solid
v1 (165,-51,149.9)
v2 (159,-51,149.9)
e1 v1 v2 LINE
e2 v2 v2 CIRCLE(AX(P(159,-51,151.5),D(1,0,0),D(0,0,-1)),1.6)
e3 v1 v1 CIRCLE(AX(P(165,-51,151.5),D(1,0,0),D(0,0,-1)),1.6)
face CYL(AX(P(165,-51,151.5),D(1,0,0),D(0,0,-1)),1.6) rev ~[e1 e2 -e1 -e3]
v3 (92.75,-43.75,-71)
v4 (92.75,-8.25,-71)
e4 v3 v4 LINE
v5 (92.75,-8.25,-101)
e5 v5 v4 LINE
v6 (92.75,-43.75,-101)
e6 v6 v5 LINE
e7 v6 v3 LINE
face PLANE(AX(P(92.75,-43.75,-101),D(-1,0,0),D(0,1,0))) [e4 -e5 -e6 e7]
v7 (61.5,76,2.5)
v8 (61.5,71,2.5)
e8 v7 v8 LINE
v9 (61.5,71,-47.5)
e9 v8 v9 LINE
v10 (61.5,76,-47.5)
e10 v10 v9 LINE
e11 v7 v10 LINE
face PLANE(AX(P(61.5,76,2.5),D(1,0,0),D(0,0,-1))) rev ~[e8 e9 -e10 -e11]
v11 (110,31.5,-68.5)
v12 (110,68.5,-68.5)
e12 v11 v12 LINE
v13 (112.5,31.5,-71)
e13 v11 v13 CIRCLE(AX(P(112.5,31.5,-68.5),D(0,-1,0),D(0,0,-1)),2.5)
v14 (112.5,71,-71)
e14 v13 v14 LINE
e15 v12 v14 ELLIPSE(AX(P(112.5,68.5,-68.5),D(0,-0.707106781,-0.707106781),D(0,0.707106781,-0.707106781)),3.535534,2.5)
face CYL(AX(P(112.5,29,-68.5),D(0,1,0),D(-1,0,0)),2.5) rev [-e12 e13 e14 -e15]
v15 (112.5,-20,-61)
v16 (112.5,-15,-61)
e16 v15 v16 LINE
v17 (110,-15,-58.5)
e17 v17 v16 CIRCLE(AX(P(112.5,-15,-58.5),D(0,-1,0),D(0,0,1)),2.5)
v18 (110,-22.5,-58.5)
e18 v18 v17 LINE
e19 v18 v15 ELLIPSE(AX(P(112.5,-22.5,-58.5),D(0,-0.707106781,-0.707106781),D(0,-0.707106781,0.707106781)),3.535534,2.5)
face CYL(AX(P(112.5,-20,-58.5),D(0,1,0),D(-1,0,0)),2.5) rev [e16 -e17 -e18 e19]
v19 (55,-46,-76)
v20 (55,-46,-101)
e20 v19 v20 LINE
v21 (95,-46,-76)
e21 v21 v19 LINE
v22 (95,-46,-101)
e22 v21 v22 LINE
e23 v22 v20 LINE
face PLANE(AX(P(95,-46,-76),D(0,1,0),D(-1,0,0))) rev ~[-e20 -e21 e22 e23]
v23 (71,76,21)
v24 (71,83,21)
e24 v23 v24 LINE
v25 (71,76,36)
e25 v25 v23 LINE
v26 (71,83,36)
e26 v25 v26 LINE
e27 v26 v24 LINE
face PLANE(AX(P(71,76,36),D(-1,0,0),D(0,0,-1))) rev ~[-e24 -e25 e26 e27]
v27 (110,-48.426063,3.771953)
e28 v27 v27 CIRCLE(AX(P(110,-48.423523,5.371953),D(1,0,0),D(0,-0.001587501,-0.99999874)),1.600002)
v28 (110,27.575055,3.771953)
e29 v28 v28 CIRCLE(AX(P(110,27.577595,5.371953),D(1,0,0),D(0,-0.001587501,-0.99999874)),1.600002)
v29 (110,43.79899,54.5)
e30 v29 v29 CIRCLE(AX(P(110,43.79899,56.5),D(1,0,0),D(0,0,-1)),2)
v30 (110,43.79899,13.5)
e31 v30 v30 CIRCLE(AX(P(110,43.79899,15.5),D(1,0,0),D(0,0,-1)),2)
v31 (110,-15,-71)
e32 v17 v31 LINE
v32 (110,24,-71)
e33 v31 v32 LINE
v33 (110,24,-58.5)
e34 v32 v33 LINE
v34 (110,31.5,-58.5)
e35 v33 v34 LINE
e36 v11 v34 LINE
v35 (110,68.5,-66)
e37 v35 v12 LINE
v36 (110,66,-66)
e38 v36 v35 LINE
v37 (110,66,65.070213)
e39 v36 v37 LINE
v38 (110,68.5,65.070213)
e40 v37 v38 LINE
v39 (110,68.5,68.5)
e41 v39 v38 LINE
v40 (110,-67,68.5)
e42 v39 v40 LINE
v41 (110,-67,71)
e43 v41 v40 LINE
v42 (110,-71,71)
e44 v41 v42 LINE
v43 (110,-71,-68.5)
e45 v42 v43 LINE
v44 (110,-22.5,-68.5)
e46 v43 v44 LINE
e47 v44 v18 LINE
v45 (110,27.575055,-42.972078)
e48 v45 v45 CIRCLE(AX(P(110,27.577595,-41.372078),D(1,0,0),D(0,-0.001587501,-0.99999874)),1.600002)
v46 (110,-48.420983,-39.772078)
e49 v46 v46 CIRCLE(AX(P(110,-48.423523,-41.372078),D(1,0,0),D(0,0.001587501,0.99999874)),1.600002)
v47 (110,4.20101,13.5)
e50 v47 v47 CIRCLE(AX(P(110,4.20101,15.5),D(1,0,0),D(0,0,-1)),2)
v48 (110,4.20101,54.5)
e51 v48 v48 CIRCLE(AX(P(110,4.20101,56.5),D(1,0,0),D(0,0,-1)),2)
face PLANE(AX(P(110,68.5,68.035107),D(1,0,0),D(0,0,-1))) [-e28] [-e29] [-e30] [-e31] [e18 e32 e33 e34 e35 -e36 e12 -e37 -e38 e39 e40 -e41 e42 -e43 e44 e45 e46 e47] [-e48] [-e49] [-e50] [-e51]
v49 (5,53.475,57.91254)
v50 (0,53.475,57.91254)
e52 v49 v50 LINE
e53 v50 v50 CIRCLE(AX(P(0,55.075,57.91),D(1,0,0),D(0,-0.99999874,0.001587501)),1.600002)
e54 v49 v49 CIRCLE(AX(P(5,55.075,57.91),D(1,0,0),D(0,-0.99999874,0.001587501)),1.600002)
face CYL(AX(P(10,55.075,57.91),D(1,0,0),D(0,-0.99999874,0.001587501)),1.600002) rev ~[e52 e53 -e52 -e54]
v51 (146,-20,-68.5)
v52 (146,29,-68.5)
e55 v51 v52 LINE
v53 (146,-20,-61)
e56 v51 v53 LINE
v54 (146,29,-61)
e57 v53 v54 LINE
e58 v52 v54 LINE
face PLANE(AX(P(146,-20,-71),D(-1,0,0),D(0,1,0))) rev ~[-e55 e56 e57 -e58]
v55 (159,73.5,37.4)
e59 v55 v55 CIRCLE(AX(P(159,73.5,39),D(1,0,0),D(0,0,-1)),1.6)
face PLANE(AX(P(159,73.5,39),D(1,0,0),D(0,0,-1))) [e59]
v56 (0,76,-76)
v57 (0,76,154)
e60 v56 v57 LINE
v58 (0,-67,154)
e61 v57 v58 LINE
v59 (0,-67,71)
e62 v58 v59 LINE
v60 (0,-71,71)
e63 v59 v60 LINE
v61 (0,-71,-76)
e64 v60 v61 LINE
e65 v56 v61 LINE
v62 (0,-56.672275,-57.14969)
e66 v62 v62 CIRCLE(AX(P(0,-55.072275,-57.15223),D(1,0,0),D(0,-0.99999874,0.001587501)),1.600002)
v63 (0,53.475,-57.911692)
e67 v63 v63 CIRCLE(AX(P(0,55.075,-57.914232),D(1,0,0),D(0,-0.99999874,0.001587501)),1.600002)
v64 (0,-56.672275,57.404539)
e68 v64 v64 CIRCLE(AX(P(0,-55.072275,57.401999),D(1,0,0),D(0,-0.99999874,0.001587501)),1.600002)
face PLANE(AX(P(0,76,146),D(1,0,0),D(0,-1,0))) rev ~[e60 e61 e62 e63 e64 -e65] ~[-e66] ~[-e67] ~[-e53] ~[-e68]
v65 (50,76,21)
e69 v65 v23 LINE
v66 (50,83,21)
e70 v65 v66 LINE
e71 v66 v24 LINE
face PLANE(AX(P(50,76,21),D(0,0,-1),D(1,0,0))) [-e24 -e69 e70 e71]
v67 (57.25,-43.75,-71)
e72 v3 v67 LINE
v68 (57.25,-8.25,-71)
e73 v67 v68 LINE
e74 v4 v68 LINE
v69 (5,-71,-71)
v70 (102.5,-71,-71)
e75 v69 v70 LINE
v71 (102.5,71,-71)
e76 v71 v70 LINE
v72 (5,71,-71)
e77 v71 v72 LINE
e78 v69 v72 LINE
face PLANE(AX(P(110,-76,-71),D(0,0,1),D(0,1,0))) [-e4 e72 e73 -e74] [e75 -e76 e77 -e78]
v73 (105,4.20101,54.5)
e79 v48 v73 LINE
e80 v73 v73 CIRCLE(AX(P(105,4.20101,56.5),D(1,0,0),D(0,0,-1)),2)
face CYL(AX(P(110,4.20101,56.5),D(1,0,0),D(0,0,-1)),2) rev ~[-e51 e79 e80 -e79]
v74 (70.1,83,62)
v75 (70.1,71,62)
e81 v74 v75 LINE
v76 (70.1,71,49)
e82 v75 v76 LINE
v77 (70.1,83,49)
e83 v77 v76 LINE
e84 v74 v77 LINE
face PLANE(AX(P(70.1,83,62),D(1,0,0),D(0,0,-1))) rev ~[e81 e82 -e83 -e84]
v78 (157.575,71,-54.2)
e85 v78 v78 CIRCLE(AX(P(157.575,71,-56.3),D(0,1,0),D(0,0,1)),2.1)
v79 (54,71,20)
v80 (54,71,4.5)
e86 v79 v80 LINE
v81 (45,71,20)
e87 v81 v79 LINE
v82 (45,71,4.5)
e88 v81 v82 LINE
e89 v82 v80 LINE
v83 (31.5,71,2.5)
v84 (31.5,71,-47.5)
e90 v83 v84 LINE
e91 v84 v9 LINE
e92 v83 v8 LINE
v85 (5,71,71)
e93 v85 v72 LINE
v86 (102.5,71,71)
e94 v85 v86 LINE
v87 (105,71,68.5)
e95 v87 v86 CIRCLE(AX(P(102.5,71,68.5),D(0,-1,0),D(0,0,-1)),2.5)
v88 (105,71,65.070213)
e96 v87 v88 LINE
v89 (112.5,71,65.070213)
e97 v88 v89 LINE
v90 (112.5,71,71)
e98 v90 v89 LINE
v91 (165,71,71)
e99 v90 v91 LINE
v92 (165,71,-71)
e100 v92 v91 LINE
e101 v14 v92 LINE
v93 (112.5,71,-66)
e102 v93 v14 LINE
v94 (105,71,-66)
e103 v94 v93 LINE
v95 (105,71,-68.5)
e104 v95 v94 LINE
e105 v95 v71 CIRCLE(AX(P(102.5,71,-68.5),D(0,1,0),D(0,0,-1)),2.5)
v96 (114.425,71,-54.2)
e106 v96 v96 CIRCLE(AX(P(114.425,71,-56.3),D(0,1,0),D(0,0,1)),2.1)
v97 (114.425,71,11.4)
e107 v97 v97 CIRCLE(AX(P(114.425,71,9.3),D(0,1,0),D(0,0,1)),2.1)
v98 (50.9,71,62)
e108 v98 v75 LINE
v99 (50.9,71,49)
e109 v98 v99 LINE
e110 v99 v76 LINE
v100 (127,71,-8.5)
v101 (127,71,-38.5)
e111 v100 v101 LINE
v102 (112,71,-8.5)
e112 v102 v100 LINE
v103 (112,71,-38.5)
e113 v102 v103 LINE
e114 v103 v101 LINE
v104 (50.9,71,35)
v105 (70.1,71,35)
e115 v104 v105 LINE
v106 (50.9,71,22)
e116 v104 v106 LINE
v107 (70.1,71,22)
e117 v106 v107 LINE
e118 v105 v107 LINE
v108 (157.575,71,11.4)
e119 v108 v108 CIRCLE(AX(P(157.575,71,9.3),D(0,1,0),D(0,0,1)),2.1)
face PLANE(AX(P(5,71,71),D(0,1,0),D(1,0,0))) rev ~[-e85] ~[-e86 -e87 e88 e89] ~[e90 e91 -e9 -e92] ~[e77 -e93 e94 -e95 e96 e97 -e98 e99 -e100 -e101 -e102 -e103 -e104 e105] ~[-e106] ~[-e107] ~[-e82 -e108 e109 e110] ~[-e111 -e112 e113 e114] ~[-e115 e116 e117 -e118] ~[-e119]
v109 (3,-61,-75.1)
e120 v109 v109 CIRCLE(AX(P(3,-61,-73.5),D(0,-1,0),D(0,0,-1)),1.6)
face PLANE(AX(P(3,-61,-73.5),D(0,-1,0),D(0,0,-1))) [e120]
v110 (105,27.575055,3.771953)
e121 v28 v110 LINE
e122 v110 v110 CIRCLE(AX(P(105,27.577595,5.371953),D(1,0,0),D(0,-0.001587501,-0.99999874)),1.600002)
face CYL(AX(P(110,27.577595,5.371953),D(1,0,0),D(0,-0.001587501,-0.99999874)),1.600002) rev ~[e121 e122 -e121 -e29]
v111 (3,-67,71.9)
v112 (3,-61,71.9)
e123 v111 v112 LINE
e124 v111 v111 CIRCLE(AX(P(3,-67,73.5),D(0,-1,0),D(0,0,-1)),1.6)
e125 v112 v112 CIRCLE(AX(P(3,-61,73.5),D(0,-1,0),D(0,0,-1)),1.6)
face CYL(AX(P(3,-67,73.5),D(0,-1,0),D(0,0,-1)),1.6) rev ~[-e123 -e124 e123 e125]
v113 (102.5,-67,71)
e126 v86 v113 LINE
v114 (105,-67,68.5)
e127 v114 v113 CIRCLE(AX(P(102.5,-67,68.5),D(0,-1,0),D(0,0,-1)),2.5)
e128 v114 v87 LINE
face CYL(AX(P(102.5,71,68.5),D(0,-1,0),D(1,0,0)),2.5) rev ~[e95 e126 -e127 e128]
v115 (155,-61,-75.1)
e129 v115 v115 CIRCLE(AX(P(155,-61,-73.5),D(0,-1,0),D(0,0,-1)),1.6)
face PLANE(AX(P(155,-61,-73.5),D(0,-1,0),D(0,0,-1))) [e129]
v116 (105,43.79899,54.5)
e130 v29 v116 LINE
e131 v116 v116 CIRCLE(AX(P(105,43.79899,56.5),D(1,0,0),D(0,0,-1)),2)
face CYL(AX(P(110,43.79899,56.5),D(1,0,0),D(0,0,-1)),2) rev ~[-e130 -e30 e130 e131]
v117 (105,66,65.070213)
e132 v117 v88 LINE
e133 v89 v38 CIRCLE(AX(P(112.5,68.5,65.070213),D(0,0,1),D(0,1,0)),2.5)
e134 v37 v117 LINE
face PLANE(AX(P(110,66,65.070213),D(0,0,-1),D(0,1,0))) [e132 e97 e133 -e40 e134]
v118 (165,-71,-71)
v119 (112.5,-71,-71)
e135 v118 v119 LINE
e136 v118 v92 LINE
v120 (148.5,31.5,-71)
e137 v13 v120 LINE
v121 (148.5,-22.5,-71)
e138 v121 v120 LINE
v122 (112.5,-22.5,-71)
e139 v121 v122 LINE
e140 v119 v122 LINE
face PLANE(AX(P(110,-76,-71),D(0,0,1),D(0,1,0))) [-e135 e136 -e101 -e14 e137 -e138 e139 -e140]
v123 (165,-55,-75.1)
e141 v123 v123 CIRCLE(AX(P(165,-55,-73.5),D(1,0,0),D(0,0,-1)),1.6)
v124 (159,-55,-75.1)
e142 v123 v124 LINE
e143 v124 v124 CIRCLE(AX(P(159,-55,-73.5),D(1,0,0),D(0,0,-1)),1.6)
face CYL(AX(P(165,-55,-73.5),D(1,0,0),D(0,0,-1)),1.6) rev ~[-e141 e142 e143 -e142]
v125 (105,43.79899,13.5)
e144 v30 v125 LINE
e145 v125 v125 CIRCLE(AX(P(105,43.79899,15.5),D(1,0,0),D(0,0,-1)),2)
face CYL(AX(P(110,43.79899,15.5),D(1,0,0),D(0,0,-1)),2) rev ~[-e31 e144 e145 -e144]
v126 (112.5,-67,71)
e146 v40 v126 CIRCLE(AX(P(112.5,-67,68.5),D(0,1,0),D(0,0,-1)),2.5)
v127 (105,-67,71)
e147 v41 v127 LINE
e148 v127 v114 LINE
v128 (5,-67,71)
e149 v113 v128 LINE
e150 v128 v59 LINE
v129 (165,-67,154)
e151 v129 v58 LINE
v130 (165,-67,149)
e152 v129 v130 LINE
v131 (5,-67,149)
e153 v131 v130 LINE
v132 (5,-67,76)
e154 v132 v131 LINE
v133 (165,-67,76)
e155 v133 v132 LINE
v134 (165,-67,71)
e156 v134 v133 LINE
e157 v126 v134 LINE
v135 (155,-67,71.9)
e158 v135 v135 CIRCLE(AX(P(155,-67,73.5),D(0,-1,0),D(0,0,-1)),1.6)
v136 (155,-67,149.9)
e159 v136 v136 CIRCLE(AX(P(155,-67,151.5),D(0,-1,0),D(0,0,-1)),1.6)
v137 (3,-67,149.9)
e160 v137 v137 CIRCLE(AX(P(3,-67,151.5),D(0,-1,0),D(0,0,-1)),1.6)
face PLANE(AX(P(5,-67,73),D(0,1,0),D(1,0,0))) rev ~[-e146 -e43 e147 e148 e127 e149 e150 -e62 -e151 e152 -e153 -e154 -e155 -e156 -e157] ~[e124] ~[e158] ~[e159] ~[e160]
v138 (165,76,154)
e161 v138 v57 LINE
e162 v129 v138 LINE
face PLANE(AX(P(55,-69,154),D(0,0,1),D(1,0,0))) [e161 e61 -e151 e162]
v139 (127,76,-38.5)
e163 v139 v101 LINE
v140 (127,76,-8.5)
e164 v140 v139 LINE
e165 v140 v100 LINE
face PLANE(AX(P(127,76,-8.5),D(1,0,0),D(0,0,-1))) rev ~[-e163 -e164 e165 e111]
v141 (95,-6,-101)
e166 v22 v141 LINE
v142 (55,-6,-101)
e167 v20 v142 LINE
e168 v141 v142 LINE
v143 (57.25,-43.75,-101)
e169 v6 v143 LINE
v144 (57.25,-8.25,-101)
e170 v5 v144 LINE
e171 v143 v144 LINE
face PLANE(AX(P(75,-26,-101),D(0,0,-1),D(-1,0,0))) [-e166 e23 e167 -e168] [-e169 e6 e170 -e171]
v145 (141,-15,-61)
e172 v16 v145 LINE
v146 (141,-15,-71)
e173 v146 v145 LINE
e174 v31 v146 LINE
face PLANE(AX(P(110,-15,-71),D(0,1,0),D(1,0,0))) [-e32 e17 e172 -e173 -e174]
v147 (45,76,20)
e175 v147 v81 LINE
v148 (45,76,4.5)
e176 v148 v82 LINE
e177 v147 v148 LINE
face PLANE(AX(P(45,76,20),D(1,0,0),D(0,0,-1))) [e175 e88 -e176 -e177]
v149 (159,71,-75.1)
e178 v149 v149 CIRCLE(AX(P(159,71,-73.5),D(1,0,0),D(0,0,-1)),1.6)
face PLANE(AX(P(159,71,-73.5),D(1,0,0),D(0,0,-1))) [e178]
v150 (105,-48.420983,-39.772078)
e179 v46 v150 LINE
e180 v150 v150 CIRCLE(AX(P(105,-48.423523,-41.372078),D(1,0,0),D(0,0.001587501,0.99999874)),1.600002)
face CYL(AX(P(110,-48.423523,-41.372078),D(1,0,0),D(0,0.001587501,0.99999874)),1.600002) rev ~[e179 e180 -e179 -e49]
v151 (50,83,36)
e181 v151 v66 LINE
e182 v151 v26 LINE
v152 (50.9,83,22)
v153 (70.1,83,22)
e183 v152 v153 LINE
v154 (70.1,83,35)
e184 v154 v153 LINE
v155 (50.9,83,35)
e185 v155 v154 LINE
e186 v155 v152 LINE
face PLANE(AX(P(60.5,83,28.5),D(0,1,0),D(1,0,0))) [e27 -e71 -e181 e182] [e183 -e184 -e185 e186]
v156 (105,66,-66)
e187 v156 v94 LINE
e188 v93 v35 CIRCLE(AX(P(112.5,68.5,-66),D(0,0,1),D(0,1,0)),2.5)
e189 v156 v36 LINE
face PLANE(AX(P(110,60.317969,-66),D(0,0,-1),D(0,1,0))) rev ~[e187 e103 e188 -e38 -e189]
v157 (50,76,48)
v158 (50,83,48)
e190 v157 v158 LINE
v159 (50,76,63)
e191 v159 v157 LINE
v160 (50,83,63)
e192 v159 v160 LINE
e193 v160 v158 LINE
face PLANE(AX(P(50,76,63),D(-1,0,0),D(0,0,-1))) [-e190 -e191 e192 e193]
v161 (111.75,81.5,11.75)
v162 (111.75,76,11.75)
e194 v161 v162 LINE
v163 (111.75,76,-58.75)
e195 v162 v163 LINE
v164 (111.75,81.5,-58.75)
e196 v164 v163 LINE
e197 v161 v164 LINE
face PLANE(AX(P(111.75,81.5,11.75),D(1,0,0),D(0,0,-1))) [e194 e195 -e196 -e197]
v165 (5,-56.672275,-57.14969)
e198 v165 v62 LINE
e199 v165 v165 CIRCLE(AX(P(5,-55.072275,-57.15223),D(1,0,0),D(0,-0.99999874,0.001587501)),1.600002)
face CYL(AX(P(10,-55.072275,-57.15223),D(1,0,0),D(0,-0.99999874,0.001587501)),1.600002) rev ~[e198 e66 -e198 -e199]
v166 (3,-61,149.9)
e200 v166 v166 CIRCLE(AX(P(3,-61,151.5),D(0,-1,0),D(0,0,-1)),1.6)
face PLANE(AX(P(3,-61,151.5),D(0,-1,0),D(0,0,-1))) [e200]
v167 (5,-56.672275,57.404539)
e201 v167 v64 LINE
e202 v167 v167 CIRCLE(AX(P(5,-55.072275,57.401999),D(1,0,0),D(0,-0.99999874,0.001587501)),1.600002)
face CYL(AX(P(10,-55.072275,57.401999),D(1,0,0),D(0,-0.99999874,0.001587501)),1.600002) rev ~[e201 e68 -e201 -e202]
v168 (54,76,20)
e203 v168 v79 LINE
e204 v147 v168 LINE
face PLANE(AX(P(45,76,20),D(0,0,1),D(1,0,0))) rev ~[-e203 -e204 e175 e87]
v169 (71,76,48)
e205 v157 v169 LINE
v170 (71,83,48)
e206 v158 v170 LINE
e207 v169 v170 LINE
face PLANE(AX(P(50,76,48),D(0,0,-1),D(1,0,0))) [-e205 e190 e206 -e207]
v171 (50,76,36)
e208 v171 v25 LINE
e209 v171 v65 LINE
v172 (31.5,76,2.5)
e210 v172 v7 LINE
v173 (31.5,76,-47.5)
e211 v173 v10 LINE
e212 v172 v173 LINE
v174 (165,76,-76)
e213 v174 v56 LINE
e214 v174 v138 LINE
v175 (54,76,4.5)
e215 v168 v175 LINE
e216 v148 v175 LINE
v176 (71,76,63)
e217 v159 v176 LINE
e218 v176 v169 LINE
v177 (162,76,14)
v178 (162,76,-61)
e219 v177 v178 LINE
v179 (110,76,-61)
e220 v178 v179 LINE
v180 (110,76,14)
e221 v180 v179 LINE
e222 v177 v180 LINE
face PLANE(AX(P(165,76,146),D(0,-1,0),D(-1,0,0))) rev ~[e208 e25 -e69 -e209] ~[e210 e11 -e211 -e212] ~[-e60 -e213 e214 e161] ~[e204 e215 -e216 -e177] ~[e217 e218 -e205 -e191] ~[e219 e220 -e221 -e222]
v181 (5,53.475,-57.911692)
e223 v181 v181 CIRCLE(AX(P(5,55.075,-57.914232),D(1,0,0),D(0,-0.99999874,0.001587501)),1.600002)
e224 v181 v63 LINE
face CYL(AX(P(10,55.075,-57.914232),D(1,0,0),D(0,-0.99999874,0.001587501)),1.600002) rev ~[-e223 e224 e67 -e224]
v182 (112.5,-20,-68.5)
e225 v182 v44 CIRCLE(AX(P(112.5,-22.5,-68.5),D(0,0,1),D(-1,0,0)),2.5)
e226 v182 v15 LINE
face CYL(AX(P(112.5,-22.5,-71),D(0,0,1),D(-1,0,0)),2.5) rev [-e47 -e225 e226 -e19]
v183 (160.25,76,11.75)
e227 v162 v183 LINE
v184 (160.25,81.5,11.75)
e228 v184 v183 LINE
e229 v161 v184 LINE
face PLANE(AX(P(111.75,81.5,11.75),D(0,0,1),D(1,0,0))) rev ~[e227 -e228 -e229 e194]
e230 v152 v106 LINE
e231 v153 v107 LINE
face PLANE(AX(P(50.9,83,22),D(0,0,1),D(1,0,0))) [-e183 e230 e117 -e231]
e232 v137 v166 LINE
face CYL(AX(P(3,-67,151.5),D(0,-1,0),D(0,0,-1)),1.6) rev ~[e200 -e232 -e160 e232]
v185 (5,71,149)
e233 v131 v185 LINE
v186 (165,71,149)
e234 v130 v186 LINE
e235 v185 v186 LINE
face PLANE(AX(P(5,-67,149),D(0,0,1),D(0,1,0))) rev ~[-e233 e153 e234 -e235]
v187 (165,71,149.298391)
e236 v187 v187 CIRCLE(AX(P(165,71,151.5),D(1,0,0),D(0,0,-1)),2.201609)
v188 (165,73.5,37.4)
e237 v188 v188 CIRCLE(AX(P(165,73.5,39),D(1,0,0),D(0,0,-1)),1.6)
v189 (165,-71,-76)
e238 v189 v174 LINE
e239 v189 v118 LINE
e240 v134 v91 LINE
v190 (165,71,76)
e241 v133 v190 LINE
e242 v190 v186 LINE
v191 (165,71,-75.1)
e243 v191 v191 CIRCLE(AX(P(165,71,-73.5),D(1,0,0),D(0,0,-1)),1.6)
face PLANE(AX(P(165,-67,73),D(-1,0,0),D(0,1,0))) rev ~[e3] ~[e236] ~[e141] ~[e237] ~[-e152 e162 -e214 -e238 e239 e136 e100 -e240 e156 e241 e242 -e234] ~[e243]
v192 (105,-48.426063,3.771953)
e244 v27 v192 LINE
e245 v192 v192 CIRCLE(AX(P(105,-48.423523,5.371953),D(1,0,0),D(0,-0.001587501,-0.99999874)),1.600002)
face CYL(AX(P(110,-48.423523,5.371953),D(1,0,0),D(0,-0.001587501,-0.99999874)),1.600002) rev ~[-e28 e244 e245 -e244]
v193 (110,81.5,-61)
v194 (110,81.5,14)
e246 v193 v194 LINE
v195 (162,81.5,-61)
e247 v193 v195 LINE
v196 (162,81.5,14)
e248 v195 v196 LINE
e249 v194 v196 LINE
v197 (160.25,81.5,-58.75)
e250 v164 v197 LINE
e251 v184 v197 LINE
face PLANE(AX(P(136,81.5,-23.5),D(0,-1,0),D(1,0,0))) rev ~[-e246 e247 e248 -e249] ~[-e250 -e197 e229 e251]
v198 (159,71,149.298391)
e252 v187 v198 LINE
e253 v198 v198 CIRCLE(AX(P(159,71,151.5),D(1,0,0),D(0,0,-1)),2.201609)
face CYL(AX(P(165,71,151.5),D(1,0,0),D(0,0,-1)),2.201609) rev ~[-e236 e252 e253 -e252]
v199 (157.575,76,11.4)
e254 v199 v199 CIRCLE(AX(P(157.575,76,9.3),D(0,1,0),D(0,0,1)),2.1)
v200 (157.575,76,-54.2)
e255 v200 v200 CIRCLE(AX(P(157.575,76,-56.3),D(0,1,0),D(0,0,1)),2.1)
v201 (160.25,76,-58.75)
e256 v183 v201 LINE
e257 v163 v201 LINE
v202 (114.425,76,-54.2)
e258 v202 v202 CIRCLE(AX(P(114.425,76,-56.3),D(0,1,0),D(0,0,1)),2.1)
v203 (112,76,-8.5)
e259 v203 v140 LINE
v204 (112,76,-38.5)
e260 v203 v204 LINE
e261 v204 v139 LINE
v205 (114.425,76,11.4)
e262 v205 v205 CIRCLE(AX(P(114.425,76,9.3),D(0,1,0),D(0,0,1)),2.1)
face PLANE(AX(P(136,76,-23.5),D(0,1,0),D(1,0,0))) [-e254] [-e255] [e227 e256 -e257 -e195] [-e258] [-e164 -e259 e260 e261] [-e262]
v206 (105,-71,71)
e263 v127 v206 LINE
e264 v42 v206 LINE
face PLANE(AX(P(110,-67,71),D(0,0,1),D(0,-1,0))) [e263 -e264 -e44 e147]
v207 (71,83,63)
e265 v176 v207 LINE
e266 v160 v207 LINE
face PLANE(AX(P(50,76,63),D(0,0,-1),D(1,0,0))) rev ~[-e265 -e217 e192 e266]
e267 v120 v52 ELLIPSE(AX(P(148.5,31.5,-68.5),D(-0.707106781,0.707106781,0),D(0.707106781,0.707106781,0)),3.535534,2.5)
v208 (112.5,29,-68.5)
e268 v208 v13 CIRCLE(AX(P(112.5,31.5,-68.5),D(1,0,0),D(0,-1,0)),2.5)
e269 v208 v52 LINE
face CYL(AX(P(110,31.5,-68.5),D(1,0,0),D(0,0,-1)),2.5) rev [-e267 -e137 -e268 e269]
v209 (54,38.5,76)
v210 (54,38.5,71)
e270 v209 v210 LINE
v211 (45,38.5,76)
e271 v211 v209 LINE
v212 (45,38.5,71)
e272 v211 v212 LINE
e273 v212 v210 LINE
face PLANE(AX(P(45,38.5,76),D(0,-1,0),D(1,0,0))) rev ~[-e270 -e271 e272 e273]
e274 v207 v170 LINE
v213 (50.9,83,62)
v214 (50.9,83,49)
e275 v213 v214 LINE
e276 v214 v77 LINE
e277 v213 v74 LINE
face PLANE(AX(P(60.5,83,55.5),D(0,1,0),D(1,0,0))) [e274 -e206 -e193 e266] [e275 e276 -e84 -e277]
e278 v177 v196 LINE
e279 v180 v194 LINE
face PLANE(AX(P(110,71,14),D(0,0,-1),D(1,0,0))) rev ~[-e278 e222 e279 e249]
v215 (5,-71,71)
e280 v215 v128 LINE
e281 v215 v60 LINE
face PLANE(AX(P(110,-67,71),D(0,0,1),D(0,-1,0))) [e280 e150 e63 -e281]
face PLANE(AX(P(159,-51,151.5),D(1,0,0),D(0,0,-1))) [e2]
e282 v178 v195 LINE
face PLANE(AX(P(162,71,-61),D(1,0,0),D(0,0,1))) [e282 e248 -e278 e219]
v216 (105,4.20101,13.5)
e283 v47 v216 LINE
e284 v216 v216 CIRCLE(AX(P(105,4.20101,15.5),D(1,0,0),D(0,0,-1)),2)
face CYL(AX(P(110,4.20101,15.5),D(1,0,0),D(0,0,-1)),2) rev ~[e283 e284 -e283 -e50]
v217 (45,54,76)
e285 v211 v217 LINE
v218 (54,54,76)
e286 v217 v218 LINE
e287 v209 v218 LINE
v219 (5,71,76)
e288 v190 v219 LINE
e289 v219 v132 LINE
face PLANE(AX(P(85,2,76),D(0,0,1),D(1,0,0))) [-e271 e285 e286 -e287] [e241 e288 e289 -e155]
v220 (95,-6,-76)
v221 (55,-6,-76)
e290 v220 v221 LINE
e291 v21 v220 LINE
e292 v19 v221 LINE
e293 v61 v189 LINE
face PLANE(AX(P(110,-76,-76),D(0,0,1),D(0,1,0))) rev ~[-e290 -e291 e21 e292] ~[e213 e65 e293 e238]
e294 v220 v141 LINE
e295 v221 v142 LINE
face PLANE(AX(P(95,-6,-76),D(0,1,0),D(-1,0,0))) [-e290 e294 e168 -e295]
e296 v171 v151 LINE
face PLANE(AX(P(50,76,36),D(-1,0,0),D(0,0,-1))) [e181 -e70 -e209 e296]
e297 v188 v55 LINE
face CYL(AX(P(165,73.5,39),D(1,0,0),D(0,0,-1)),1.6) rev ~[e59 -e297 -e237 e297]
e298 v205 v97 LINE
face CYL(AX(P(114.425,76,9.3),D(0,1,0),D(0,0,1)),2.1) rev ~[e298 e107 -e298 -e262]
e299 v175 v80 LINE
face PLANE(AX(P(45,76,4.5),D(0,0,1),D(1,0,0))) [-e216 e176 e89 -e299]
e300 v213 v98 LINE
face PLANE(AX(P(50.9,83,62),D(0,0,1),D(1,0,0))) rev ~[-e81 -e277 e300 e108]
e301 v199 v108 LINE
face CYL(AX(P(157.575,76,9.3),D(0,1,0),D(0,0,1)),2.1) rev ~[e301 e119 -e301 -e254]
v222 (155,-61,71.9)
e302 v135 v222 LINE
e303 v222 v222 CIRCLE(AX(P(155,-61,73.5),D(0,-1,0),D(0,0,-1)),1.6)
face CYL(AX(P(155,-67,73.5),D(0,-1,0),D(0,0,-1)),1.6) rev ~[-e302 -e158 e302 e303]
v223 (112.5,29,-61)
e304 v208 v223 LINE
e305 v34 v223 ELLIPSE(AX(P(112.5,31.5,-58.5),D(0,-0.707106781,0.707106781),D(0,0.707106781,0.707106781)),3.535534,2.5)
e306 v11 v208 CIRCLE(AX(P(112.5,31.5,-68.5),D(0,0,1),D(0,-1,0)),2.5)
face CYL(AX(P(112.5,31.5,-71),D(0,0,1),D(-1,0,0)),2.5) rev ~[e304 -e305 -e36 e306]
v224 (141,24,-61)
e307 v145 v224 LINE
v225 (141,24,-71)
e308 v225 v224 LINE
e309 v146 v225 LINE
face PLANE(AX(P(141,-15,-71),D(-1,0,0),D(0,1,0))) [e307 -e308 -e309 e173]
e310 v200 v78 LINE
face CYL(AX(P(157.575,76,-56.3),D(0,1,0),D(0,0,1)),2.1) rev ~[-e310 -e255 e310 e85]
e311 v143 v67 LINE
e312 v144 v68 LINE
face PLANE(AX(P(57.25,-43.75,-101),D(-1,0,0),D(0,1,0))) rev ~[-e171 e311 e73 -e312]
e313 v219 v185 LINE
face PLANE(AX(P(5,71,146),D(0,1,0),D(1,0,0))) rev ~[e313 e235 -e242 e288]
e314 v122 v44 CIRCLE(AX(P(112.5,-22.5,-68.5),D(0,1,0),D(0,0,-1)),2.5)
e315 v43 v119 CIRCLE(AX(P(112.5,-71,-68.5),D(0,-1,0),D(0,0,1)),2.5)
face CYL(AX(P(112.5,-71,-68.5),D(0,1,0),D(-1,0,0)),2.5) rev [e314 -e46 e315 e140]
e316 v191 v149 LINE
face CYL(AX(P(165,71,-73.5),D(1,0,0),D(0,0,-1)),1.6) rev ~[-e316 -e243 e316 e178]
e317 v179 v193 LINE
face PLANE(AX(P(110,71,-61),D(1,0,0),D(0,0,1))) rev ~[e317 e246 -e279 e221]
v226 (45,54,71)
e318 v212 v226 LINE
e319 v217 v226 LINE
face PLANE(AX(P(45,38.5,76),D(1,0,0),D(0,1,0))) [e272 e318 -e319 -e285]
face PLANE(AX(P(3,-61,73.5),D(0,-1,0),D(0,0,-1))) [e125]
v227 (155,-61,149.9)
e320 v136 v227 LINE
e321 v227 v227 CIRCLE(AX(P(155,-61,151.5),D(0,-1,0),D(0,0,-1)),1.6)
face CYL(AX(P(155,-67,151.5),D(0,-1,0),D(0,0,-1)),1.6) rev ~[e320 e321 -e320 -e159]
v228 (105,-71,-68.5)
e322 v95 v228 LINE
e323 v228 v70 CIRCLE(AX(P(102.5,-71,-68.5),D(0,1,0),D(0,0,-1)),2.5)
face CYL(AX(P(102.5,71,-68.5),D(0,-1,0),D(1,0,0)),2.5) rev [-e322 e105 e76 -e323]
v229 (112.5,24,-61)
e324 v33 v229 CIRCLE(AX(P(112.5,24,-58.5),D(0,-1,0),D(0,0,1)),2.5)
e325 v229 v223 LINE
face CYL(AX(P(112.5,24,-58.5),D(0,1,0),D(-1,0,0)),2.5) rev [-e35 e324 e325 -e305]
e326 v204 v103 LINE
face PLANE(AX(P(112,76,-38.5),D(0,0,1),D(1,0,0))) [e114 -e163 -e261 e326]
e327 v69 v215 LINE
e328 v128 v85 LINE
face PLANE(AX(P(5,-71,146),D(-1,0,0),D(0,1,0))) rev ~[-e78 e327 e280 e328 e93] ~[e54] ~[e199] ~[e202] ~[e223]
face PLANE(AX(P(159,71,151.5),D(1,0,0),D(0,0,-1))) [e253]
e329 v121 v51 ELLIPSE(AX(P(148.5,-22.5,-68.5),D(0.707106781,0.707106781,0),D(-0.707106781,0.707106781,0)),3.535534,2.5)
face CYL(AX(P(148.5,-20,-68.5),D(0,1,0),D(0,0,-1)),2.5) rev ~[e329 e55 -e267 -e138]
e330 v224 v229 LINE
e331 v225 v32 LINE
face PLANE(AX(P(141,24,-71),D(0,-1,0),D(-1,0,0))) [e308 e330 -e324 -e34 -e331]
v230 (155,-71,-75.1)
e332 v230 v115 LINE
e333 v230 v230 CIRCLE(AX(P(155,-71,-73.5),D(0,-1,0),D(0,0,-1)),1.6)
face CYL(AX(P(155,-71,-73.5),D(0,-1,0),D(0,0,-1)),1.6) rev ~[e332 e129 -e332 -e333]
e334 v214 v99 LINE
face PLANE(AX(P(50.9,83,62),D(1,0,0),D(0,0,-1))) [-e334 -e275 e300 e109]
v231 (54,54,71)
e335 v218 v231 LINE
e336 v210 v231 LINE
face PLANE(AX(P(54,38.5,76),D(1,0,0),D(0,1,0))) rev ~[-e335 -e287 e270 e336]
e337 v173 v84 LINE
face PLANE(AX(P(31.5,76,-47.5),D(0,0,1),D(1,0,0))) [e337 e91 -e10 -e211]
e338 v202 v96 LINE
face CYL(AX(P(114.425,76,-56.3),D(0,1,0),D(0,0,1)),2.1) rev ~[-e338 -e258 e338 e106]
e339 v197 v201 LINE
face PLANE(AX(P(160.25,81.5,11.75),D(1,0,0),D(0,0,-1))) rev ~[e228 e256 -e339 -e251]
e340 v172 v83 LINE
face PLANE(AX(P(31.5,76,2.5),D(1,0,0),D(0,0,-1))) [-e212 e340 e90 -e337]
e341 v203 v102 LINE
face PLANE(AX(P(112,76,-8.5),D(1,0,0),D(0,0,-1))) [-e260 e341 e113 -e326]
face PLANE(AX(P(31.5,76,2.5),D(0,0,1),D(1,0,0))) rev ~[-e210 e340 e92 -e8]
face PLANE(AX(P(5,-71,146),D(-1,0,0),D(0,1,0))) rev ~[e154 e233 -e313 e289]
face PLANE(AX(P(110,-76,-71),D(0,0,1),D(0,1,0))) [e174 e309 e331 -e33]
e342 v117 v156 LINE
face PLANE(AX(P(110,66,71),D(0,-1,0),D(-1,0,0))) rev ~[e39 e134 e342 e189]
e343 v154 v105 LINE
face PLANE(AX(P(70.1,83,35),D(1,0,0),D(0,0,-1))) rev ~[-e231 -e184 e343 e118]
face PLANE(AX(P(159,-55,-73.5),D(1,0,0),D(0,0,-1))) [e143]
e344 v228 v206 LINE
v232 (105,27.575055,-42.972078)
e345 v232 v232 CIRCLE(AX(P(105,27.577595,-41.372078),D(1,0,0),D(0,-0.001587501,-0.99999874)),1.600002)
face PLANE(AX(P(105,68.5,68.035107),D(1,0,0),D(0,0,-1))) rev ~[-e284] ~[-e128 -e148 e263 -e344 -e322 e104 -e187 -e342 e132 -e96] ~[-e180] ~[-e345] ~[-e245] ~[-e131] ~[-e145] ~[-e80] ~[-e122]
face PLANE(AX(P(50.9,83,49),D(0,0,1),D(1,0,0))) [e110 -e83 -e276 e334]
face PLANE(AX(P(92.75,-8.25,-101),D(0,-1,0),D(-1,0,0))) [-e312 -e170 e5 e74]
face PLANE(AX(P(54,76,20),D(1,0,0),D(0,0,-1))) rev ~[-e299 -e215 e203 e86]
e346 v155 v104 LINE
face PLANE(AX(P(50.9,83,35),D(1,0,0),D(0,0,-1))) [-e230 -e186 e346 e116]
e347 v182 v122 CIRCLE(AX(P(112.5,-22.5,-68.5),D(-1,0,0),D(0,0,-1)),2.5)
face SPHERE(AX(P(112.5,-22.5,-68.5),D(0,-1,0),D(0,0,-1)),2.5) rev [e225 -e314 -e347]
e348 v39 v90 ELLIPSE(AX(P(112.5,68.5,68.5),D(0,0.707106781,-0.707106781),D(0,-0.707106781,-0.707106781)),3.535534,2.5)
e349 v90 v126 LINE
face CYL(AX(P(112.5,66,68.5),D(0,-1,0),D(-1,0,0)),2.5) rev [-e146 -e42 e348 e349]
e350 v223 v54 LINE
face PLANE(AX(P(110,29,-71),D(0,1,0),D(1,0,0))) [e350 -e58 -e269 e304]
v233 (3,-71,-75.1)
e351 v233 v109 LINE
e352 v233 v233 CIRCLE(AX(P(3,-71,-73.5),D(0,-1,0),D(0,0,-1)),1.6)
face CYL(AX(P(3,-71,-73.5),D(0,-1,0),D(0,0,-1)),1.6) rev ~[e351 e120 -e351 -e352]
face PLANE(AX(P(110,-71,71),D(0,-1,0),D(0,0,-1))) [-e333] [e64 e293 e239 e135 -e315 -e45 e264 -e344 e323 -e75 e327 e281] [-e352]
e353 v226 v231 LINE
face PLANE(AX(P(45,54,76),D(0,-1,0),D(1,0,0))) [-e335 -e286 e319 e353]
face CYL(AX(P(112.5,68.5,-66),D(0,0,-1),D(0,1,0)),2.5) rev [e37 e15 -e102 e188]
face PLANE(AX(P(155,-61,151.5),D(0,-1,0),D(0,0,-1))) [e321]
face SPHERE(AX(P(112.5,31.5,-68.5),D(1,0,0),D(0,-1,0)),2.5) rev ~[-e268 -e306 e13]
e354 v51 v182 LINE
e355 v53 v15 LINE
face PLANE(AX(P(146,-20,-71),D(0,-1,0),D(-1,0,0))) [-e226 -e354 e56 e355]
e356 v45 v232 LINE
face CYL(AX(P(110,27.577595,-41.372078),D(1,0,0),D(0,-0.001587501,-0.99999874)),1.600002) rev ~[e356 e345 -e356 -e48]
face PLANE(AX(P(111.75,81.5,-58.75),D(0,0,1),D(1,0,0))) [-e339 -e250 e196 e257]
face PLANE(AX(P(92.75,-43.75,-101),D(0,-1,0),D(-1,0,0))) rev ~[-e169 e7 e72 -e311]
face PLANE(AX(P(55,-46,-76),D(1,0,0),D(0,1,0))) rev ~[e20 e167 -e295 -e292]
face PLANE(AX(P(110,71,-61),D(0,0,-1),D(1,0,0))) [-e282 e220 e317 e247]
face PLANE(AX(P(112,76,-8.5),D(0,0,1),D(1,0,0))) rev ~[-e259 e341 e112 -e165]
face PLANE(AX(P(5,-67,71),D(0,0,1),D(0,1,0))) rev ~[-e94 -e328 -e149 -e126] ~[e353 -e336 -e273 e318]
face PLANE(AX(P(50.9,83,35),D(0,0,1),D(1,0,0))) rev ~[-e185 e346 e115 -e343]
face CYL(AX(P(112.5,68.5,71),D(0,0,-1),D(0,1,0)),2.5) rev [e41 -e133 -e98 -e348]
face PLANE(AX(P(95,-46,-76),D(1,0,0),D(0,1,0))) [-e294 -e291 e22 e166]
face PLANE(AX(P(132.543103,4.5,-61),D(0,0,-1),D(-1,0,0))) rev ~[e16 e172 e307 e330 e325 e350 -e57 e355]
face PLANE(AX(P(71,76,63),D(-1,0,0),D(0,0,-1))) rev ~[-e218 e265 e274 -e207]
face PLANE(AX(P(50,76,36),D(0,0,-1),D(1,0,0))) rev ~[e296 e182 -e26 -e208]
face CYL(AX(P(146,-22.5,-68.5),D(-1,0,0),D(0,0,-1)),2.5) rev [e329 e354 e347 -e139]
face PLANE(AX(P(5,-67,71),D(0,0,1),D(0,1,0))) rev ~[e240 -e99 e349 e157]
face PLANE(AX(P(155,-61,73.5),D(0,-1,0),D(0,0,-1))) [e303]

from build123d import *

# Parameters (mm, degrees)
SKETCH_1_W           = 142
SKETCH_1_H           = 142
EXTRUDE_1_DEPTH      = 5
SKETCH_2_W           = 5
SKETCH_2_H           = 142
EXTRUDE_2_DEPTH      = 5
SKETCH_3_W           = 142
SKETCH_3_H           = 5
EXTRUDE_3_DEPTH      = 60
SKETCH_4_W           = 31
SKETCH_4_H           = 71
CUT_EXTRUDE_1_DEPTH  = 5
SKETCH_5_W           = 142
SKETCH_5_H           = 5
EXTRUDE_4_DEPTH      = 40
EXTRUDE_5_DEPTH      = 5
SKETCH_7_W           = 5
SKETCH_7_H           = 142
EXTRUDE_6_DEPTH      = 100
SKETCH_8_W           = 40
SKETCH_8_H           = 40
EXTRUDE_7_DEPTH      = 25
SKETCH_10_W          = 35.5
SKETCH_10_H          = 35.5
CUT_EXTRUDE_2_DEPTH  = 30
EXTRUDE_8_DEPTH      = 5
SKETCH_13_W          = 5
SKETCH_13_H          = 142
EXTRUDE_9_DEPTH      = 100
EXTRUDE_10_DEPTH     = 5
SKETCH_15_W          = 142
SKETCH_15_H          = 5
EXTRUDE_11_DEPTH     = 100
SKETCH_16_W          = 21
SKETCH_16_H          = 15
EXTRUDE_12_DEPTH     = 7
SKETCH_17_W          = 19.2
SKETCH_17_H          = 13
CUT_EXTRUDE_4_DEPTH  = 12
SKETCH_18_W          = 19.2
SKETCH_18_H          = 13
CUT_EXTRUDE_5_DEPTH  = 12
CUT_EXTRUDE_6_DEPTH  = 10
SKETCH_20_W          = 30
SKETCH_20_H          = 50
CUT_EXTRUDE_7_DEPTH  = 5
SKETCH_21_W          = 9
SKETCH_21_H          = 15.5
CUT_EXTRUDE_8_DEPTH  = 5
SKETCH_22_W          = 152
SKETCH_22_H          = 152
EXTRUDE_13_DEPTH     = 5
SKETCH_23_W          = 142
SKETCH_23_H          = 5
CUT_EXTRUDE_9_DEPTH  = 5
SKETCH_25_R          = 2
CUT_EXTRUDE_11_DEPTH = 5
SKETCH_26_W          = 5
SKETCH_26_H          = 152
EXTRUDE_14_DEPTH     = 55
EXTRUDE_15_DEPTH     = 10
SKETCH_29_W          = 5
SKETCH_29_H          = 152
CUT_EXTRUDE_12_DEPTH = 110
SKETCH_30_W          = 5
SKETCH_30_H          = 15.68203055
EXTRUDE_16_DEPTH     = 5
SKETCH_37_W          = 142
SKETCH_37_H          = 5
EXTRUDE_17_DEPTH     = 55
SKETCH_38_W          = 52
SKETCH_38_H          = 75
EXTRUDE_18_DEPTH     = 10.5
SKETCH_39_W          = 48.5
SKETCH_39_H          = 70.5
CUT_EXTRUDE_14_DEPTH = 5.5
SKETCH_40_R          = 2.1
CUT_EXTRUDE_16_DEPTH = 5
SKETCH_41_W          = 15
SKETCH_41_H          = 30
CUT_EXTRUDE_17_DEPTH = 5
CUT_EXTRUDE_18_DEPTH = 5
EXTRUDE_19_DEPTH     = 75
SKETCH_45_W          = 2
SKETCH_45_H          = 138
EXTRUDE_20_DEPTH     = 160
SKETCH_46_W          = 73
SKETCH_46_H          = 133
CUT_EXTRUDE_19_DEPTH = 5
EXTRUDE_21_DEPTH     = 8
SKETCH_49_W          = 5
SKETCH_49_H          = 138
EXTRUDE_22_DEPTH     = 160
SKETCH_50_W          = 100
SKETCH_50_H          = 4
EXTRUDE_23_DEPTH     = 5
SKETCH_51_W          = 83
SKETCH_51_H          = 9
EXTRUDE_24_DEPTH     = 110
EXTRUDE_25_DEPTH     = 3
SKETCH_54_W          = 9
SKETCH_54_H          = 15.5
CUT_EXTRUDE_20_DEPTH = 5
CUT_EXTRUDE_21_DEPTH = 110
SKETCH_58_W          = 5.929786703
SKETCH_58_H          = 5
EXTRUDE_26_DEPTH     = 5
CUT_EXTRUDE_START    = -55
SKETCH_60_W          = 5
SKETCH_60_H          = 5
CUT_EXTRUDE_22_DEPTH = 55
SKETCH_59_R          = 1.6
CUT_EXTRUDE_23_DEPTH = 6
SKETCH_61_R          = 1.6
CUT_EXTRUDE_24_DEPTH = 10
SKETCH_62_R          = 1.6
SKETCH_62_R_2        = 2.201608842
CUT_EXTRUDE_25_DEPTH = 6
FILLET_1_R           = 2.5


with BuildPart() as part:
    # 草图1 → 凸台-拉伸1 (new body)
    with BuildSketch(Plane(origin=(0, 0, 0), x_dir=(0, 0, -1), z_dir=(1, 0, 0))):
        Rectangle(SKETCH_1_W, SKETCH_1_H)
    extrude(amount=EXTRUDE_1_DEPTH)

    # 草图2 → 凸台-拉伸2 (add)
    with BuildSketch(Plane.XZ.offset(71)):
        with Locations((2.5, 0)):
            Rectangle(SKETCH_2_W, SKETCH_2_H)
    extrude(amount=EXTRUDE_2_DEPTH)

    # 草图3 → 凸台-拉伸3 (add)
    with BuildSketch(Plane(origin=(5, 0, 0), x_dir=(0, 0, -1), z_dir=(1, 0, 0))):
        with Locations((0, -73.5)):
            Rectangle(SKETCH_3_W, SKETCH_3_H)
    extrude(amount=EXTRUDE_3_DEPTH)

    # 草图4 → 切除-拉伸1 (cut)
    with BuildSketch(Plane.XZ.offset(76)):
        with Locations((49.5, 9.5)):
            Rectangle(SKETCH_4_W, SKETCH_4_H)
    extrude(amount=-CUT_EXTRUDE_1_DEPTH, mode=Mode.SUBTRACT)

    # 草图5 → 凸台-拉伸4 (add)
    with BuildSketch(Plane(origin=(65, 0, 0), x_dir=(0, 0, -1), z_dir=(1, 0, 0))):
        with Locations((0, -73.5)):
            Rectangle(SKETCH_5_W, SKETCH_5_H)
    extrude(amount=EXTRUDE_4_DEPTH)

    # 草图6 → 凸台-拉伸5 (add)
    with BuildSketch(Plane(origin=(0, 0, -71), x_dir=(-1, 0, 0), z_dir=(0, 0, -1))):
        Polygon((0, -76), (0, 71), (-5, 71), (-5, -71), (-105, -71), (-105, -76), align=None)
    extrude(amount=EXTRUDE_5_DEPTH)

    # 草图7 → 凸台-拉伸6 (add)
    with BuildSketch(Plane(origin=(5, 0, 0), x_dir=(0, 0, -1), z_dir=(1, 0, 0))):
        with Locations((73.5, 0)):
            Rectangle(SKETCH_7_W, SKETCH_7_H)
    extrude(amount=EXTRUDE_6_DEPTH)

    # 草图8 → 凸台-拉伸7 (add)
    with BuildSketch(Plane(origin=(0, 0, -76), x_dir=(-1, 0, 0), z_dir=(0, 0, -1))):
        with Locations((-75, -26)):
            Rectangle(SKETCH_8_W, SKETCH_8_H)
    extrude(amount=EXTRUDE_7_DEPTH)

    # 草图10 → 切除-拉伸2 (cut)
    with BuildSketch(Plane(origin=(0, 0, -101), x_dir=(-1, 0, 0), z_dir=(0, 0, -1))):
        with Locations((-75, -26)):
            Rectangle(SKETCH_10_W, SKETCH_10_H)
    extrude(amount=-CUT_EXTRUDE_2_DEPTH, mode=Mode.SUBTRACT)

    # 草图12 → 凸台-拉伸8 (add)
    with BuildSketch(Plane.XY.offset(71)):
        Polygon((0, 71), (0, -76), (105, -76), (105, -71), (5, -71), (5, 71), align=None)
    extrude(amount=EXTRUDE_8_DEPTH)

    # 草图13 → 凸台-拉伸9 (add)
    with BuildSketch(Plane(origin=(5, 0, 0), x_dir=(0, 0, -1), z_dir=(1, 0, 0))):
        with Locations((-73.5, 0)):
            Rectangle(SKETCH_13_W, SKETCH_13_H)
    extrude(amount=EXTRUDE_9_DEPTH)

    # 草图14 → 凸台-拉伸10 (add)
    with BuildSketch(Plane(origin=(0, 71, 0), x_dir=(1, 0, 0), z_dir=(0, 1, 0))):
        Polygon((0, 76), (0, -76), (105, -76), (105, -71), (5, -71), (5, 71), (105, 71), (105, 76), align=None)
    extrude(amount=EXTRUDE_10_DEPTH)

    # 草图15 → 凸台-拉伸11 (add)
    with BuildSketch(Plane(origin=(5, 0, 0), x_dir=(0, 0, -1), z_dir=(1, 0, 0))):
        with Locations((0, 73.5)):
            Rectangle(SKETCH_15_W, SKETCH_15_H)
    extrude(amount=EXTRUDE_11_DEPTH)

    # 草图16 → 凸台-拉伸12 (add)
    with BuildSketch(Plane(origin=(0, 76, 0), x_dir=(1, 0, 0), z_dir=(0, 1, 0))):
        with Locations((60.5, -28.5)):
            Rectangle(SKETCH_16_W, SKETCH_16_H)
        with Locations((60.5, -55.5)):
            Rectangle(SKETCH_16_W, SKETCH_16_H)
    extrude(amount=EXTRUDE_12_DEPTH)

    # 草图17 → 切除-拉伸4 (cut)
    with BuildSketch(Plane(origin=(0, 83, 0), x_dir=(1, 0, 0), z_dir=(0, 1, 0))):
        with Locations((60.5, -28.5)):
            Rectangle(SKETCH_17_W, SKETCH_17_H)
    extrude(amount=-CUT_EXTRUDE_4_DEPTH, mode=Mode.SUBTRACT)

    # 草图18 → 切除-拉伸5 (cut)
    with BuildSketch(Plane(origin=(0, 83, 0), x_dir=(1, 0, 0), z_dir=(0, 1, 0))):
        with Locations((60.5, -55.5)):
            Rectangle(SKETCH_18_W, SKETCH_18_H)
    extrude(amount=-CUT_EXTRUDE_5_DEPTH, mode=Mode.SUBTRACT)

    # 草图19 → 切除-拉伸6 (cut)
    with BuildSketch(Plane(origin=(10, 0, 0), x_dir=(0, 0, -1), z_dir=(1, 0, 0))):
        with BuildLine():
            ThreePointArc((57.15477013, -53.472274575), (55.552230124, -55.069734569), (57.149690119, -56.672274575))
            ThreePointArc((57.149690119, -56.672274575), (58.752230124, -55.07481458), (57.15477013, -53.472274575))
        make_face()
        with BuildLine():
            ThreePointArc((-57.399458979, -53.472274575), (-59.001998984, -55.069734569), (-57.404538989, -56.672274575))
            ThreePointArc((-57.404538989, -56.672274575), (-55.801998984, -55.07481458), (-57.399458979, -53.472274575))
        make_face()
        with BuildLine():
            ThreePointArc((57.916771654, 56.675), (56.314231648, 55.077540005), (57.911691643, 53.475))
            ThreePointArc((57.911691643, 53.475), (59.514231648, 55.072459995), (57.916771654, 56.675))
        make_face()
        with BuildLine():
            ThreePointArc((-57.907459995, 56.675), (-59.51, 55.077540005), (-57.912540005, 53.475))
            ThreePointArc((-57.912540005, 53.475), (-56.31, 55.072459995), (-57.907459995, 56.675))
        make_face()
    extrude(amount=-CUT_EXTRUDE_6_DEPTH, mode=Mode.SUBTRACT)

    # 草图20 → 切除-拉伸7 (cut)
    with BuildSketch(Plane(origin=(0, 76, 0), x_dir=(1, 0, 0), z_dir=(0, 1, 0))):
        with Locations((46.5, 22.5)):
            Rectangle(SKETCH_20_W, SKETCH_20_H)
    extrude(amount=-CUT_EXTRUDE_7_DEPTH, mode=Mode.SUBTRACT)

    # 草图21 → 切除-拉伸8 (cut)
    with BuildSketch(Plane(origin=(0, 76, 0), x_dir=(1, 0, 0), z_dir=(0, 1, 0))):
        with Locations((49.5, -12.25)):
            Rectangle(SKETCH_21_W, SKETCH_21_H)
    extrude(amount=-CUT_EXTRUDE_8_DEPTH, mode=Mode.SUBTRACT)

    # 草图22 → 凸台-拉伸13 (add)
    with BuildSketch(Plane(origin=(105, 0, 0), x_dir=(0, 0, -1), z_dir=(1, 0, 0))):
        Rectangle(SKETCH_22_W, SKETCH_22_H)
    extrude(amount=EXTRUDE_13_DEPTH)

    # 草图23 → 切除-拉伸9 (cut)
    with BuildSketch(Plane(origin=(110, 0, 0), x_dir=(0, 0, -1), z_dir=(1, 0, 0))):
        with Locations((0, 68.5)):
            Rectangle(SKETCH_23_W, SKETCH_23_H)
    extrude(amount=-CUT_EXTRUDE_9_DEPTH, mode=Mode.SUBTRACT)

    # 草图25 → 切除-拉伸11 (cut)
    with BuildSketch(Plane(origin=(110, 0, 0), x_dir=(0, 0, -1), z_dir=(1, 0, 0))):
        with Locations((-15.5, 4.201010127)):
            Circle(SKETCH_25_R)
        with Locations((-56.5, 4.201010127)):
            Circle(SKETCH_25_R)
        with Locations((-56.5, 43.798989873)):
            Circle(SKETCH_25_R)
        with Locations((-15.5, 43.798989873)):
            Circle(SKETCH_25_R)
    extrude(amount=-CUT_EXTRUDE_11_DEPTH, mode=Mode.SUBTRACT)

    # 草图26 → 凸台-拉伸14 (add)
    with BuildSketch(Plane(origin=(110, 0, 0), x_dir=(0, 0, -1), z_dir=(1, 0, 0))):
        with Locations((73.5, 0)):
            Rectangle(SKETCH_26_W, SKETCH_26_H)
    extrude(amount=EXTRUDE_14_DEPTH)

    # 草图28 → 凸台-拉伸15 (add)
    with BuildSketch(Plane.XY.offset(-71)):
        Polygon((110, -15), (141, -15), (141, 24), (110, 24), (110, 29), (146, 29), (146, -6), (146, -15), (146, -20), (110, -20), align=None)
    extrude(amount=EXTRUDE_15_DEPTH)

    # 草图29 → 切除-拉伸12 (cut)
    with BuildSketch(Plane(origin=(110, 0, 0), x_dir=(0, 0, -1), z_dir=(1, 0, 0))):
        with Locations((-73.5, 0)):
            Rectangle(SKETCH_29_W, SKETCH_29_H)
    extrude(amount=-CUT_EXTRUDE_12_DEPTH, mode=Mode.SUBTRACT)

    # 草图30 → 凸台-拉伸16 (add)
    with BuildSketch(Plane(origin=(110, 0, 0), x_dir=(0, 0, -1), z_dir=(1, 0, 0))):
        with Locations((68.5, 68.158984725)):
            Rectangle(SKETCH_30_W, SKETCH_30_H)
    extrude(amount=-EXTRUDE_16_DEPTH)

    # 草图37 → 凸台-拉伸17 (add)
    with BuildSketch(Plane(origin=(110, 0, 0), x_dir=(0, 0, -1), z_dir=(1, 0, 0))):
        with Locations((0, 73.5)):
            Rectangle(SKETCH_37_W, SKETCH_37_H)
    extrude(amount=EXTRUDE_17_DEPTH)

    # 草图38 → 凸台-拉伸18 (add)
    with BuildSketch(Plane.XZ.offset(-71)):
        with Locations((136, -23.5)):
            Rectangle(SKETCH_38_W, SKETCH_38_H)
    extrude(amount=-EXTRUDE_18_DEPTH)

    # 草图39 → 切除-拉伸14 (cut)
    with BuildSketch(Plane(origin=(0, 81.5, 0), x_dir=(1, 0, 0), z_dir=(0, 1, 0))):
        with Locations((136, 23.5)):
            Rectangle(SKETCH_39_W, SKETCH_39_H)
    extrude(amount=-CUT_EXTRUDE_14_DEPTH, mode=Mode.SUBTRACT)

    # 草图40 → 切除-拉伸16 (cut)
    with BuildSketch(Plane(origin=(0, 76, 0), x_dir=(1, 0, 0), z_dir=(0, 1, 0))):
        with Locations(Location((157.575, 56.3, 0), (0, 0, 270))):
            Circle(SKETCH_40_R)
        with Locations(Location((157.575, -9.3, 0), (0, 0, 270))):
            Circle(SKETCH_40_R)
        with Locations(Location((114.425, -9.3, 0), (0, 0, 270))):
            Circle(SKETCH_40_R)
        with Locations(Location((114.425, 56.3, 0), (0, 0, 270))):
            Circle(SKETCH_40_R)
    extrude(amount=-CUT_EXTRUDE_16_DEPTH, mode=Mode.SUBTRACT)

    # 草图41 → 切除-拉伸17 (cut)
    with BuildSketch(Plane(origin=(0, 76, 0), x_dir=(1, 0, 0), z_dir=(0, 1, 0))):
        with Locations((119.5, 23.5)):
            Rectangle(SKETCH_41_W, SKETCH_41_H)
    extrude(amount=-CUT_EXTRUDE_17_DEPTH, mode=Mode.SUBTRACT)

    # 草图42 → 切除-拉伸18 (cut)
    with BuildSketch(Plane(origin=(110, 0, 0), x_dir=(0, 0, -1), z_dir=(1, 0, 0))):
        with BuildLine():
            ThreePointArc((39.772077724, 27.58013462), (41.369537719, 25.977594615), (42.972077724, 27.57505461))
            ThreePointArc((42.972077724, 27.57505461), (41.374617729, 29.177594615), (39.772077724, 27.58013462))
        make_face()
        with BuildLine():
            ThreePointArc((42.972077724, -48.426062992), (41.374617729, -46.823522987), (39.772077724, -48.420982982))
            ThreePointArc((39.772077724, -48.420982982), (41.369537719, -50.023522987), (42.972077724, -48.426062992))
        make_face()
        with BuildLine():
            ThreePointArc((-6.971953264, -48.420982982), (-5.374493269, -50.023522987), (-3.771953264, -48.426062992))
            ThreePointArc((-3.771953264, -48.426062992), (-5.369413259, -46.823522987), (-6.971953264, -48.420982982))
        make_face()
        with BuildLine():
            ThreePointArc((-6.971953264, 27.58013462), (-5.374493269, 25.977594615), (-3.771953264, 27.57505461))
            ThreePointArc((-3.771953264, 27.57505461), (-5.369413259, 29.177594615), (-6.971953264, 27.58013462))
        make_face()
    extrude(amount=-CUT_EXTRUDE_18_DEPTH, mode=Mode.SUBTRACT)

    # 草图43 → 凸台-拉伸19 (add)
    with BuildSketch(Plane.XY.offset(71)):
        Polygon((5, 71), (165, 71), (165, 76), (0, 76), (0, -76), (110, -76), (110, 66), (105, 66), (105, -71), (5, -71), align=None)
    extrude(amount=EXTRUDE_19_DEPTH)

    # 草图45 → 凸台-拉伸20 (add)
    with BuildSketch(Plane(origin=(5, 0, 0), x_dir=(0, 0, -1), z_dir=(1, 0, 0))):
        with Locations((-72, 2)):
            Rectangle(SKETCH_45_W, SKETCH_45_H)
    extrude(amount=EXTRUDE_20_DEPTH)

    # 草图46 → 切除-拉伸19 (cut)
    with BuildSketch(Plane(origin=(110, 0, 0), x_dir=(0, 0, -1), z_dir=(1, 0, 0))):
        with Locations((-109.5, -0.5)):
            Rectangle(SKETCH_46_W, SKETCH_46_H)
    extrude(amount=-CUT_EXTRUDE_19_DEPTH, mode=Mode.SUBTRACT)

    # 草图47 → 凸台-拉伸21 (add)
    with BuildSketch(Plane.XY.offset(146)):
        Polygon((110, -67), (105, -67), (105, -71), (5, -71), (5, 71), (165, 71), (165, 76), (0, 76), (0, -76), (110, -76), align=None)
    extrude(amount=EXTRUDE_21_DEPTH)

    # 草图49 → 凸台-拉伸22 (add)
    with BuildSketch(Plane(origin=(5, 0, 0), x_dir=(0, 0, -1), z_dir=(1, 0, 0))):
        with Locations((-151.5, 2)):
            Rectangle(SKETCH_49_W, SKETCH_49_H)
    extrude(amount=EXTRUDE_22_DEPTH)

    # 草图50 → 凸台-拉伸23 (add)
    with BuildSketch(Plane.XY.offset(154)):
        with Locations((55, -69)):
            Rectangle(SKETCH_50_W, SKETCH_50_H)
    extrude(amount=-EXTRUDE_23_DEPTH)

    # 草图51 → 凸台-拉伸24 (add)
    with BuildSketch(Plane(origin=(110, 0, 0), x_dir=(0, 0, -1), z_dir=(1, 0, 0))):
        with Locations((-112.5, -71.5)):
            Rectangle(SKETCH_51_W, SKETCH_51_H)
    extrude(amount=-EXTRUDE_24_DEPTH)

    # 草图53 → 凸台-拉伸25 (add)
    with BuildSketch(Plane.XY.offset(73)):
        Polygon((5, -67), (110, -67), (165, -67), (165, 71), (5, 71), align=None)
    extrude(amount=EXTRUDE_25_DEPTH)

    # 草图54 → 切除-拉伸20 (cut)
    with BuildSketch(Plane.XY.offset(76)):
        with Locations((49.5, 46.25)):
            Rectangle(SKETCH_54_W, SKETCH_54_H)
    extrude(amount=-CUT_EXTRUDE_20_DEPTH, mode=Mode.SUBTRACT)

    # 草图57 → 切除-拉伸21 (cut)
    with BuildSketch(Plane(origin=(110, 0, 0), x_dir=(0, 0, -1), z_dir=(1, 0, 0))):
        Polygon((-154, -67), (-71, -67), (-71, -71), (76, -71), (76, -76), (-71, -76), (-154, -76), align=None)
    extrude(amount=-CUT_EXTRUDE_21_DEPTH, mode=Mode.SUBTRACT)

    # 草图58 → 凸台-拉伸26 (add)
    with BuildSketch(Plane(origin=(110, 0, 0), x_dir=(0, 0, -1), z_dir=(1, 0, 0))):
        with Locations((-68.035106649, 68.5)):
            Rectangle(SKETCH_58_W, SKETCH_58_H)
    extrude(amount=-EXTRUDE_26_DEPTH)

    # 草图60 → 切除-拉伸22 (cut)
    with BuildSketch(Plane.ZY.offset(-110).offset(CUT_EXTRUDE_START)):
        with Locations((-73.5, -73.5)):
            Rectangle(SKETCH_60_W, SKETCH_60_H)
    extrude(amount=CUT_EXTRUDE_22_DEPTH, mode=Mode.SUBTRACT)

    # 草图59 → 切除-拉伸23 (cut)
    with BuildSketch(Plane.XZ.offset(67)):
        with Locations(Location((155, 151.5, 0), (0, 0, 270))):
            Circle(SKETCH_59_R)
        with Locations(Location((3, 151.5, 0), (0, 0, 270))):
            Circle(SKETCH_59_R)
        with Locations(Location((155, 73.5, 0), (0, 0, 270))):
            Circle(SKETCH_59_R)
        with Locations(Location((3, 73.5, 0), (0, 0, 270))):
            Circle(SKETCH_59_R)
    extrude(amount=-CUT_EXTRUDE_23_DEPTH, mode=Mode.SUBTRACT)

    # 草图61 → 切除-拉伸24 (cut)
    with BuildSketch(Plane.XZ.offset(71)):
        with Locations(Location((3, -73.5, 0), (0, 0, 270))):
            Circle(SKETCH_61_R)
        with Locations(Location((155, -73.5, 0), (0, 0, 270))):
            Circle(SKETCH_61_R)
    extrude(amount=-CUT_EXTRUDE_24_DEPTH, mode=Mode.SUBTRACT)

    # 草图62 → 切除-拉伸25 (cut)
    with BuildSketch(Plane(origin=(165, 0, 0), x_dir=(0, 0, -1), z_dir=(1, 0, 0))):
        with Locations((-151.5, -51)):
            Circle(SKETCH_62_R)
        with Locations((-151.5, 71)):
            Circle(SKETCH_62_R_2)
        with Locations((-39, 73.5)):
            Circle(SKETCH_62_R)
        with Locations((73.5, -55)):
            Circle(SKETCH_62_R)
        with Locations((73.5, 71)):
            Circle(SKETCH_62_R)
    extrude(amount=-CUT_EXTRUDE_25_DEPTH, mode=Mode.SUBTRACT)

    # 圆角1
    fillet_1_edges = [part.edges().sort_by_distance(p)[0] for p in [
        (105, 0, -71),
        (110, -45.5, -71),
        (128, -20, -71),
        (110, -20, -66),
        (146, 4.5, -71),
        (128, 29, -71),
        (110, 29, -66),
        (110, -17.5, -61),
        (110, 26.5, -61),
        (110, 50, -71),
        (110, 71, -68.5),
        (110, 2, 71),
        (105, 2, 71),
        (110, 71, 68.035106649),
    ]]
    fillet(fillet_1_edges, radius=FILLET_1_R)


solid = part.part
